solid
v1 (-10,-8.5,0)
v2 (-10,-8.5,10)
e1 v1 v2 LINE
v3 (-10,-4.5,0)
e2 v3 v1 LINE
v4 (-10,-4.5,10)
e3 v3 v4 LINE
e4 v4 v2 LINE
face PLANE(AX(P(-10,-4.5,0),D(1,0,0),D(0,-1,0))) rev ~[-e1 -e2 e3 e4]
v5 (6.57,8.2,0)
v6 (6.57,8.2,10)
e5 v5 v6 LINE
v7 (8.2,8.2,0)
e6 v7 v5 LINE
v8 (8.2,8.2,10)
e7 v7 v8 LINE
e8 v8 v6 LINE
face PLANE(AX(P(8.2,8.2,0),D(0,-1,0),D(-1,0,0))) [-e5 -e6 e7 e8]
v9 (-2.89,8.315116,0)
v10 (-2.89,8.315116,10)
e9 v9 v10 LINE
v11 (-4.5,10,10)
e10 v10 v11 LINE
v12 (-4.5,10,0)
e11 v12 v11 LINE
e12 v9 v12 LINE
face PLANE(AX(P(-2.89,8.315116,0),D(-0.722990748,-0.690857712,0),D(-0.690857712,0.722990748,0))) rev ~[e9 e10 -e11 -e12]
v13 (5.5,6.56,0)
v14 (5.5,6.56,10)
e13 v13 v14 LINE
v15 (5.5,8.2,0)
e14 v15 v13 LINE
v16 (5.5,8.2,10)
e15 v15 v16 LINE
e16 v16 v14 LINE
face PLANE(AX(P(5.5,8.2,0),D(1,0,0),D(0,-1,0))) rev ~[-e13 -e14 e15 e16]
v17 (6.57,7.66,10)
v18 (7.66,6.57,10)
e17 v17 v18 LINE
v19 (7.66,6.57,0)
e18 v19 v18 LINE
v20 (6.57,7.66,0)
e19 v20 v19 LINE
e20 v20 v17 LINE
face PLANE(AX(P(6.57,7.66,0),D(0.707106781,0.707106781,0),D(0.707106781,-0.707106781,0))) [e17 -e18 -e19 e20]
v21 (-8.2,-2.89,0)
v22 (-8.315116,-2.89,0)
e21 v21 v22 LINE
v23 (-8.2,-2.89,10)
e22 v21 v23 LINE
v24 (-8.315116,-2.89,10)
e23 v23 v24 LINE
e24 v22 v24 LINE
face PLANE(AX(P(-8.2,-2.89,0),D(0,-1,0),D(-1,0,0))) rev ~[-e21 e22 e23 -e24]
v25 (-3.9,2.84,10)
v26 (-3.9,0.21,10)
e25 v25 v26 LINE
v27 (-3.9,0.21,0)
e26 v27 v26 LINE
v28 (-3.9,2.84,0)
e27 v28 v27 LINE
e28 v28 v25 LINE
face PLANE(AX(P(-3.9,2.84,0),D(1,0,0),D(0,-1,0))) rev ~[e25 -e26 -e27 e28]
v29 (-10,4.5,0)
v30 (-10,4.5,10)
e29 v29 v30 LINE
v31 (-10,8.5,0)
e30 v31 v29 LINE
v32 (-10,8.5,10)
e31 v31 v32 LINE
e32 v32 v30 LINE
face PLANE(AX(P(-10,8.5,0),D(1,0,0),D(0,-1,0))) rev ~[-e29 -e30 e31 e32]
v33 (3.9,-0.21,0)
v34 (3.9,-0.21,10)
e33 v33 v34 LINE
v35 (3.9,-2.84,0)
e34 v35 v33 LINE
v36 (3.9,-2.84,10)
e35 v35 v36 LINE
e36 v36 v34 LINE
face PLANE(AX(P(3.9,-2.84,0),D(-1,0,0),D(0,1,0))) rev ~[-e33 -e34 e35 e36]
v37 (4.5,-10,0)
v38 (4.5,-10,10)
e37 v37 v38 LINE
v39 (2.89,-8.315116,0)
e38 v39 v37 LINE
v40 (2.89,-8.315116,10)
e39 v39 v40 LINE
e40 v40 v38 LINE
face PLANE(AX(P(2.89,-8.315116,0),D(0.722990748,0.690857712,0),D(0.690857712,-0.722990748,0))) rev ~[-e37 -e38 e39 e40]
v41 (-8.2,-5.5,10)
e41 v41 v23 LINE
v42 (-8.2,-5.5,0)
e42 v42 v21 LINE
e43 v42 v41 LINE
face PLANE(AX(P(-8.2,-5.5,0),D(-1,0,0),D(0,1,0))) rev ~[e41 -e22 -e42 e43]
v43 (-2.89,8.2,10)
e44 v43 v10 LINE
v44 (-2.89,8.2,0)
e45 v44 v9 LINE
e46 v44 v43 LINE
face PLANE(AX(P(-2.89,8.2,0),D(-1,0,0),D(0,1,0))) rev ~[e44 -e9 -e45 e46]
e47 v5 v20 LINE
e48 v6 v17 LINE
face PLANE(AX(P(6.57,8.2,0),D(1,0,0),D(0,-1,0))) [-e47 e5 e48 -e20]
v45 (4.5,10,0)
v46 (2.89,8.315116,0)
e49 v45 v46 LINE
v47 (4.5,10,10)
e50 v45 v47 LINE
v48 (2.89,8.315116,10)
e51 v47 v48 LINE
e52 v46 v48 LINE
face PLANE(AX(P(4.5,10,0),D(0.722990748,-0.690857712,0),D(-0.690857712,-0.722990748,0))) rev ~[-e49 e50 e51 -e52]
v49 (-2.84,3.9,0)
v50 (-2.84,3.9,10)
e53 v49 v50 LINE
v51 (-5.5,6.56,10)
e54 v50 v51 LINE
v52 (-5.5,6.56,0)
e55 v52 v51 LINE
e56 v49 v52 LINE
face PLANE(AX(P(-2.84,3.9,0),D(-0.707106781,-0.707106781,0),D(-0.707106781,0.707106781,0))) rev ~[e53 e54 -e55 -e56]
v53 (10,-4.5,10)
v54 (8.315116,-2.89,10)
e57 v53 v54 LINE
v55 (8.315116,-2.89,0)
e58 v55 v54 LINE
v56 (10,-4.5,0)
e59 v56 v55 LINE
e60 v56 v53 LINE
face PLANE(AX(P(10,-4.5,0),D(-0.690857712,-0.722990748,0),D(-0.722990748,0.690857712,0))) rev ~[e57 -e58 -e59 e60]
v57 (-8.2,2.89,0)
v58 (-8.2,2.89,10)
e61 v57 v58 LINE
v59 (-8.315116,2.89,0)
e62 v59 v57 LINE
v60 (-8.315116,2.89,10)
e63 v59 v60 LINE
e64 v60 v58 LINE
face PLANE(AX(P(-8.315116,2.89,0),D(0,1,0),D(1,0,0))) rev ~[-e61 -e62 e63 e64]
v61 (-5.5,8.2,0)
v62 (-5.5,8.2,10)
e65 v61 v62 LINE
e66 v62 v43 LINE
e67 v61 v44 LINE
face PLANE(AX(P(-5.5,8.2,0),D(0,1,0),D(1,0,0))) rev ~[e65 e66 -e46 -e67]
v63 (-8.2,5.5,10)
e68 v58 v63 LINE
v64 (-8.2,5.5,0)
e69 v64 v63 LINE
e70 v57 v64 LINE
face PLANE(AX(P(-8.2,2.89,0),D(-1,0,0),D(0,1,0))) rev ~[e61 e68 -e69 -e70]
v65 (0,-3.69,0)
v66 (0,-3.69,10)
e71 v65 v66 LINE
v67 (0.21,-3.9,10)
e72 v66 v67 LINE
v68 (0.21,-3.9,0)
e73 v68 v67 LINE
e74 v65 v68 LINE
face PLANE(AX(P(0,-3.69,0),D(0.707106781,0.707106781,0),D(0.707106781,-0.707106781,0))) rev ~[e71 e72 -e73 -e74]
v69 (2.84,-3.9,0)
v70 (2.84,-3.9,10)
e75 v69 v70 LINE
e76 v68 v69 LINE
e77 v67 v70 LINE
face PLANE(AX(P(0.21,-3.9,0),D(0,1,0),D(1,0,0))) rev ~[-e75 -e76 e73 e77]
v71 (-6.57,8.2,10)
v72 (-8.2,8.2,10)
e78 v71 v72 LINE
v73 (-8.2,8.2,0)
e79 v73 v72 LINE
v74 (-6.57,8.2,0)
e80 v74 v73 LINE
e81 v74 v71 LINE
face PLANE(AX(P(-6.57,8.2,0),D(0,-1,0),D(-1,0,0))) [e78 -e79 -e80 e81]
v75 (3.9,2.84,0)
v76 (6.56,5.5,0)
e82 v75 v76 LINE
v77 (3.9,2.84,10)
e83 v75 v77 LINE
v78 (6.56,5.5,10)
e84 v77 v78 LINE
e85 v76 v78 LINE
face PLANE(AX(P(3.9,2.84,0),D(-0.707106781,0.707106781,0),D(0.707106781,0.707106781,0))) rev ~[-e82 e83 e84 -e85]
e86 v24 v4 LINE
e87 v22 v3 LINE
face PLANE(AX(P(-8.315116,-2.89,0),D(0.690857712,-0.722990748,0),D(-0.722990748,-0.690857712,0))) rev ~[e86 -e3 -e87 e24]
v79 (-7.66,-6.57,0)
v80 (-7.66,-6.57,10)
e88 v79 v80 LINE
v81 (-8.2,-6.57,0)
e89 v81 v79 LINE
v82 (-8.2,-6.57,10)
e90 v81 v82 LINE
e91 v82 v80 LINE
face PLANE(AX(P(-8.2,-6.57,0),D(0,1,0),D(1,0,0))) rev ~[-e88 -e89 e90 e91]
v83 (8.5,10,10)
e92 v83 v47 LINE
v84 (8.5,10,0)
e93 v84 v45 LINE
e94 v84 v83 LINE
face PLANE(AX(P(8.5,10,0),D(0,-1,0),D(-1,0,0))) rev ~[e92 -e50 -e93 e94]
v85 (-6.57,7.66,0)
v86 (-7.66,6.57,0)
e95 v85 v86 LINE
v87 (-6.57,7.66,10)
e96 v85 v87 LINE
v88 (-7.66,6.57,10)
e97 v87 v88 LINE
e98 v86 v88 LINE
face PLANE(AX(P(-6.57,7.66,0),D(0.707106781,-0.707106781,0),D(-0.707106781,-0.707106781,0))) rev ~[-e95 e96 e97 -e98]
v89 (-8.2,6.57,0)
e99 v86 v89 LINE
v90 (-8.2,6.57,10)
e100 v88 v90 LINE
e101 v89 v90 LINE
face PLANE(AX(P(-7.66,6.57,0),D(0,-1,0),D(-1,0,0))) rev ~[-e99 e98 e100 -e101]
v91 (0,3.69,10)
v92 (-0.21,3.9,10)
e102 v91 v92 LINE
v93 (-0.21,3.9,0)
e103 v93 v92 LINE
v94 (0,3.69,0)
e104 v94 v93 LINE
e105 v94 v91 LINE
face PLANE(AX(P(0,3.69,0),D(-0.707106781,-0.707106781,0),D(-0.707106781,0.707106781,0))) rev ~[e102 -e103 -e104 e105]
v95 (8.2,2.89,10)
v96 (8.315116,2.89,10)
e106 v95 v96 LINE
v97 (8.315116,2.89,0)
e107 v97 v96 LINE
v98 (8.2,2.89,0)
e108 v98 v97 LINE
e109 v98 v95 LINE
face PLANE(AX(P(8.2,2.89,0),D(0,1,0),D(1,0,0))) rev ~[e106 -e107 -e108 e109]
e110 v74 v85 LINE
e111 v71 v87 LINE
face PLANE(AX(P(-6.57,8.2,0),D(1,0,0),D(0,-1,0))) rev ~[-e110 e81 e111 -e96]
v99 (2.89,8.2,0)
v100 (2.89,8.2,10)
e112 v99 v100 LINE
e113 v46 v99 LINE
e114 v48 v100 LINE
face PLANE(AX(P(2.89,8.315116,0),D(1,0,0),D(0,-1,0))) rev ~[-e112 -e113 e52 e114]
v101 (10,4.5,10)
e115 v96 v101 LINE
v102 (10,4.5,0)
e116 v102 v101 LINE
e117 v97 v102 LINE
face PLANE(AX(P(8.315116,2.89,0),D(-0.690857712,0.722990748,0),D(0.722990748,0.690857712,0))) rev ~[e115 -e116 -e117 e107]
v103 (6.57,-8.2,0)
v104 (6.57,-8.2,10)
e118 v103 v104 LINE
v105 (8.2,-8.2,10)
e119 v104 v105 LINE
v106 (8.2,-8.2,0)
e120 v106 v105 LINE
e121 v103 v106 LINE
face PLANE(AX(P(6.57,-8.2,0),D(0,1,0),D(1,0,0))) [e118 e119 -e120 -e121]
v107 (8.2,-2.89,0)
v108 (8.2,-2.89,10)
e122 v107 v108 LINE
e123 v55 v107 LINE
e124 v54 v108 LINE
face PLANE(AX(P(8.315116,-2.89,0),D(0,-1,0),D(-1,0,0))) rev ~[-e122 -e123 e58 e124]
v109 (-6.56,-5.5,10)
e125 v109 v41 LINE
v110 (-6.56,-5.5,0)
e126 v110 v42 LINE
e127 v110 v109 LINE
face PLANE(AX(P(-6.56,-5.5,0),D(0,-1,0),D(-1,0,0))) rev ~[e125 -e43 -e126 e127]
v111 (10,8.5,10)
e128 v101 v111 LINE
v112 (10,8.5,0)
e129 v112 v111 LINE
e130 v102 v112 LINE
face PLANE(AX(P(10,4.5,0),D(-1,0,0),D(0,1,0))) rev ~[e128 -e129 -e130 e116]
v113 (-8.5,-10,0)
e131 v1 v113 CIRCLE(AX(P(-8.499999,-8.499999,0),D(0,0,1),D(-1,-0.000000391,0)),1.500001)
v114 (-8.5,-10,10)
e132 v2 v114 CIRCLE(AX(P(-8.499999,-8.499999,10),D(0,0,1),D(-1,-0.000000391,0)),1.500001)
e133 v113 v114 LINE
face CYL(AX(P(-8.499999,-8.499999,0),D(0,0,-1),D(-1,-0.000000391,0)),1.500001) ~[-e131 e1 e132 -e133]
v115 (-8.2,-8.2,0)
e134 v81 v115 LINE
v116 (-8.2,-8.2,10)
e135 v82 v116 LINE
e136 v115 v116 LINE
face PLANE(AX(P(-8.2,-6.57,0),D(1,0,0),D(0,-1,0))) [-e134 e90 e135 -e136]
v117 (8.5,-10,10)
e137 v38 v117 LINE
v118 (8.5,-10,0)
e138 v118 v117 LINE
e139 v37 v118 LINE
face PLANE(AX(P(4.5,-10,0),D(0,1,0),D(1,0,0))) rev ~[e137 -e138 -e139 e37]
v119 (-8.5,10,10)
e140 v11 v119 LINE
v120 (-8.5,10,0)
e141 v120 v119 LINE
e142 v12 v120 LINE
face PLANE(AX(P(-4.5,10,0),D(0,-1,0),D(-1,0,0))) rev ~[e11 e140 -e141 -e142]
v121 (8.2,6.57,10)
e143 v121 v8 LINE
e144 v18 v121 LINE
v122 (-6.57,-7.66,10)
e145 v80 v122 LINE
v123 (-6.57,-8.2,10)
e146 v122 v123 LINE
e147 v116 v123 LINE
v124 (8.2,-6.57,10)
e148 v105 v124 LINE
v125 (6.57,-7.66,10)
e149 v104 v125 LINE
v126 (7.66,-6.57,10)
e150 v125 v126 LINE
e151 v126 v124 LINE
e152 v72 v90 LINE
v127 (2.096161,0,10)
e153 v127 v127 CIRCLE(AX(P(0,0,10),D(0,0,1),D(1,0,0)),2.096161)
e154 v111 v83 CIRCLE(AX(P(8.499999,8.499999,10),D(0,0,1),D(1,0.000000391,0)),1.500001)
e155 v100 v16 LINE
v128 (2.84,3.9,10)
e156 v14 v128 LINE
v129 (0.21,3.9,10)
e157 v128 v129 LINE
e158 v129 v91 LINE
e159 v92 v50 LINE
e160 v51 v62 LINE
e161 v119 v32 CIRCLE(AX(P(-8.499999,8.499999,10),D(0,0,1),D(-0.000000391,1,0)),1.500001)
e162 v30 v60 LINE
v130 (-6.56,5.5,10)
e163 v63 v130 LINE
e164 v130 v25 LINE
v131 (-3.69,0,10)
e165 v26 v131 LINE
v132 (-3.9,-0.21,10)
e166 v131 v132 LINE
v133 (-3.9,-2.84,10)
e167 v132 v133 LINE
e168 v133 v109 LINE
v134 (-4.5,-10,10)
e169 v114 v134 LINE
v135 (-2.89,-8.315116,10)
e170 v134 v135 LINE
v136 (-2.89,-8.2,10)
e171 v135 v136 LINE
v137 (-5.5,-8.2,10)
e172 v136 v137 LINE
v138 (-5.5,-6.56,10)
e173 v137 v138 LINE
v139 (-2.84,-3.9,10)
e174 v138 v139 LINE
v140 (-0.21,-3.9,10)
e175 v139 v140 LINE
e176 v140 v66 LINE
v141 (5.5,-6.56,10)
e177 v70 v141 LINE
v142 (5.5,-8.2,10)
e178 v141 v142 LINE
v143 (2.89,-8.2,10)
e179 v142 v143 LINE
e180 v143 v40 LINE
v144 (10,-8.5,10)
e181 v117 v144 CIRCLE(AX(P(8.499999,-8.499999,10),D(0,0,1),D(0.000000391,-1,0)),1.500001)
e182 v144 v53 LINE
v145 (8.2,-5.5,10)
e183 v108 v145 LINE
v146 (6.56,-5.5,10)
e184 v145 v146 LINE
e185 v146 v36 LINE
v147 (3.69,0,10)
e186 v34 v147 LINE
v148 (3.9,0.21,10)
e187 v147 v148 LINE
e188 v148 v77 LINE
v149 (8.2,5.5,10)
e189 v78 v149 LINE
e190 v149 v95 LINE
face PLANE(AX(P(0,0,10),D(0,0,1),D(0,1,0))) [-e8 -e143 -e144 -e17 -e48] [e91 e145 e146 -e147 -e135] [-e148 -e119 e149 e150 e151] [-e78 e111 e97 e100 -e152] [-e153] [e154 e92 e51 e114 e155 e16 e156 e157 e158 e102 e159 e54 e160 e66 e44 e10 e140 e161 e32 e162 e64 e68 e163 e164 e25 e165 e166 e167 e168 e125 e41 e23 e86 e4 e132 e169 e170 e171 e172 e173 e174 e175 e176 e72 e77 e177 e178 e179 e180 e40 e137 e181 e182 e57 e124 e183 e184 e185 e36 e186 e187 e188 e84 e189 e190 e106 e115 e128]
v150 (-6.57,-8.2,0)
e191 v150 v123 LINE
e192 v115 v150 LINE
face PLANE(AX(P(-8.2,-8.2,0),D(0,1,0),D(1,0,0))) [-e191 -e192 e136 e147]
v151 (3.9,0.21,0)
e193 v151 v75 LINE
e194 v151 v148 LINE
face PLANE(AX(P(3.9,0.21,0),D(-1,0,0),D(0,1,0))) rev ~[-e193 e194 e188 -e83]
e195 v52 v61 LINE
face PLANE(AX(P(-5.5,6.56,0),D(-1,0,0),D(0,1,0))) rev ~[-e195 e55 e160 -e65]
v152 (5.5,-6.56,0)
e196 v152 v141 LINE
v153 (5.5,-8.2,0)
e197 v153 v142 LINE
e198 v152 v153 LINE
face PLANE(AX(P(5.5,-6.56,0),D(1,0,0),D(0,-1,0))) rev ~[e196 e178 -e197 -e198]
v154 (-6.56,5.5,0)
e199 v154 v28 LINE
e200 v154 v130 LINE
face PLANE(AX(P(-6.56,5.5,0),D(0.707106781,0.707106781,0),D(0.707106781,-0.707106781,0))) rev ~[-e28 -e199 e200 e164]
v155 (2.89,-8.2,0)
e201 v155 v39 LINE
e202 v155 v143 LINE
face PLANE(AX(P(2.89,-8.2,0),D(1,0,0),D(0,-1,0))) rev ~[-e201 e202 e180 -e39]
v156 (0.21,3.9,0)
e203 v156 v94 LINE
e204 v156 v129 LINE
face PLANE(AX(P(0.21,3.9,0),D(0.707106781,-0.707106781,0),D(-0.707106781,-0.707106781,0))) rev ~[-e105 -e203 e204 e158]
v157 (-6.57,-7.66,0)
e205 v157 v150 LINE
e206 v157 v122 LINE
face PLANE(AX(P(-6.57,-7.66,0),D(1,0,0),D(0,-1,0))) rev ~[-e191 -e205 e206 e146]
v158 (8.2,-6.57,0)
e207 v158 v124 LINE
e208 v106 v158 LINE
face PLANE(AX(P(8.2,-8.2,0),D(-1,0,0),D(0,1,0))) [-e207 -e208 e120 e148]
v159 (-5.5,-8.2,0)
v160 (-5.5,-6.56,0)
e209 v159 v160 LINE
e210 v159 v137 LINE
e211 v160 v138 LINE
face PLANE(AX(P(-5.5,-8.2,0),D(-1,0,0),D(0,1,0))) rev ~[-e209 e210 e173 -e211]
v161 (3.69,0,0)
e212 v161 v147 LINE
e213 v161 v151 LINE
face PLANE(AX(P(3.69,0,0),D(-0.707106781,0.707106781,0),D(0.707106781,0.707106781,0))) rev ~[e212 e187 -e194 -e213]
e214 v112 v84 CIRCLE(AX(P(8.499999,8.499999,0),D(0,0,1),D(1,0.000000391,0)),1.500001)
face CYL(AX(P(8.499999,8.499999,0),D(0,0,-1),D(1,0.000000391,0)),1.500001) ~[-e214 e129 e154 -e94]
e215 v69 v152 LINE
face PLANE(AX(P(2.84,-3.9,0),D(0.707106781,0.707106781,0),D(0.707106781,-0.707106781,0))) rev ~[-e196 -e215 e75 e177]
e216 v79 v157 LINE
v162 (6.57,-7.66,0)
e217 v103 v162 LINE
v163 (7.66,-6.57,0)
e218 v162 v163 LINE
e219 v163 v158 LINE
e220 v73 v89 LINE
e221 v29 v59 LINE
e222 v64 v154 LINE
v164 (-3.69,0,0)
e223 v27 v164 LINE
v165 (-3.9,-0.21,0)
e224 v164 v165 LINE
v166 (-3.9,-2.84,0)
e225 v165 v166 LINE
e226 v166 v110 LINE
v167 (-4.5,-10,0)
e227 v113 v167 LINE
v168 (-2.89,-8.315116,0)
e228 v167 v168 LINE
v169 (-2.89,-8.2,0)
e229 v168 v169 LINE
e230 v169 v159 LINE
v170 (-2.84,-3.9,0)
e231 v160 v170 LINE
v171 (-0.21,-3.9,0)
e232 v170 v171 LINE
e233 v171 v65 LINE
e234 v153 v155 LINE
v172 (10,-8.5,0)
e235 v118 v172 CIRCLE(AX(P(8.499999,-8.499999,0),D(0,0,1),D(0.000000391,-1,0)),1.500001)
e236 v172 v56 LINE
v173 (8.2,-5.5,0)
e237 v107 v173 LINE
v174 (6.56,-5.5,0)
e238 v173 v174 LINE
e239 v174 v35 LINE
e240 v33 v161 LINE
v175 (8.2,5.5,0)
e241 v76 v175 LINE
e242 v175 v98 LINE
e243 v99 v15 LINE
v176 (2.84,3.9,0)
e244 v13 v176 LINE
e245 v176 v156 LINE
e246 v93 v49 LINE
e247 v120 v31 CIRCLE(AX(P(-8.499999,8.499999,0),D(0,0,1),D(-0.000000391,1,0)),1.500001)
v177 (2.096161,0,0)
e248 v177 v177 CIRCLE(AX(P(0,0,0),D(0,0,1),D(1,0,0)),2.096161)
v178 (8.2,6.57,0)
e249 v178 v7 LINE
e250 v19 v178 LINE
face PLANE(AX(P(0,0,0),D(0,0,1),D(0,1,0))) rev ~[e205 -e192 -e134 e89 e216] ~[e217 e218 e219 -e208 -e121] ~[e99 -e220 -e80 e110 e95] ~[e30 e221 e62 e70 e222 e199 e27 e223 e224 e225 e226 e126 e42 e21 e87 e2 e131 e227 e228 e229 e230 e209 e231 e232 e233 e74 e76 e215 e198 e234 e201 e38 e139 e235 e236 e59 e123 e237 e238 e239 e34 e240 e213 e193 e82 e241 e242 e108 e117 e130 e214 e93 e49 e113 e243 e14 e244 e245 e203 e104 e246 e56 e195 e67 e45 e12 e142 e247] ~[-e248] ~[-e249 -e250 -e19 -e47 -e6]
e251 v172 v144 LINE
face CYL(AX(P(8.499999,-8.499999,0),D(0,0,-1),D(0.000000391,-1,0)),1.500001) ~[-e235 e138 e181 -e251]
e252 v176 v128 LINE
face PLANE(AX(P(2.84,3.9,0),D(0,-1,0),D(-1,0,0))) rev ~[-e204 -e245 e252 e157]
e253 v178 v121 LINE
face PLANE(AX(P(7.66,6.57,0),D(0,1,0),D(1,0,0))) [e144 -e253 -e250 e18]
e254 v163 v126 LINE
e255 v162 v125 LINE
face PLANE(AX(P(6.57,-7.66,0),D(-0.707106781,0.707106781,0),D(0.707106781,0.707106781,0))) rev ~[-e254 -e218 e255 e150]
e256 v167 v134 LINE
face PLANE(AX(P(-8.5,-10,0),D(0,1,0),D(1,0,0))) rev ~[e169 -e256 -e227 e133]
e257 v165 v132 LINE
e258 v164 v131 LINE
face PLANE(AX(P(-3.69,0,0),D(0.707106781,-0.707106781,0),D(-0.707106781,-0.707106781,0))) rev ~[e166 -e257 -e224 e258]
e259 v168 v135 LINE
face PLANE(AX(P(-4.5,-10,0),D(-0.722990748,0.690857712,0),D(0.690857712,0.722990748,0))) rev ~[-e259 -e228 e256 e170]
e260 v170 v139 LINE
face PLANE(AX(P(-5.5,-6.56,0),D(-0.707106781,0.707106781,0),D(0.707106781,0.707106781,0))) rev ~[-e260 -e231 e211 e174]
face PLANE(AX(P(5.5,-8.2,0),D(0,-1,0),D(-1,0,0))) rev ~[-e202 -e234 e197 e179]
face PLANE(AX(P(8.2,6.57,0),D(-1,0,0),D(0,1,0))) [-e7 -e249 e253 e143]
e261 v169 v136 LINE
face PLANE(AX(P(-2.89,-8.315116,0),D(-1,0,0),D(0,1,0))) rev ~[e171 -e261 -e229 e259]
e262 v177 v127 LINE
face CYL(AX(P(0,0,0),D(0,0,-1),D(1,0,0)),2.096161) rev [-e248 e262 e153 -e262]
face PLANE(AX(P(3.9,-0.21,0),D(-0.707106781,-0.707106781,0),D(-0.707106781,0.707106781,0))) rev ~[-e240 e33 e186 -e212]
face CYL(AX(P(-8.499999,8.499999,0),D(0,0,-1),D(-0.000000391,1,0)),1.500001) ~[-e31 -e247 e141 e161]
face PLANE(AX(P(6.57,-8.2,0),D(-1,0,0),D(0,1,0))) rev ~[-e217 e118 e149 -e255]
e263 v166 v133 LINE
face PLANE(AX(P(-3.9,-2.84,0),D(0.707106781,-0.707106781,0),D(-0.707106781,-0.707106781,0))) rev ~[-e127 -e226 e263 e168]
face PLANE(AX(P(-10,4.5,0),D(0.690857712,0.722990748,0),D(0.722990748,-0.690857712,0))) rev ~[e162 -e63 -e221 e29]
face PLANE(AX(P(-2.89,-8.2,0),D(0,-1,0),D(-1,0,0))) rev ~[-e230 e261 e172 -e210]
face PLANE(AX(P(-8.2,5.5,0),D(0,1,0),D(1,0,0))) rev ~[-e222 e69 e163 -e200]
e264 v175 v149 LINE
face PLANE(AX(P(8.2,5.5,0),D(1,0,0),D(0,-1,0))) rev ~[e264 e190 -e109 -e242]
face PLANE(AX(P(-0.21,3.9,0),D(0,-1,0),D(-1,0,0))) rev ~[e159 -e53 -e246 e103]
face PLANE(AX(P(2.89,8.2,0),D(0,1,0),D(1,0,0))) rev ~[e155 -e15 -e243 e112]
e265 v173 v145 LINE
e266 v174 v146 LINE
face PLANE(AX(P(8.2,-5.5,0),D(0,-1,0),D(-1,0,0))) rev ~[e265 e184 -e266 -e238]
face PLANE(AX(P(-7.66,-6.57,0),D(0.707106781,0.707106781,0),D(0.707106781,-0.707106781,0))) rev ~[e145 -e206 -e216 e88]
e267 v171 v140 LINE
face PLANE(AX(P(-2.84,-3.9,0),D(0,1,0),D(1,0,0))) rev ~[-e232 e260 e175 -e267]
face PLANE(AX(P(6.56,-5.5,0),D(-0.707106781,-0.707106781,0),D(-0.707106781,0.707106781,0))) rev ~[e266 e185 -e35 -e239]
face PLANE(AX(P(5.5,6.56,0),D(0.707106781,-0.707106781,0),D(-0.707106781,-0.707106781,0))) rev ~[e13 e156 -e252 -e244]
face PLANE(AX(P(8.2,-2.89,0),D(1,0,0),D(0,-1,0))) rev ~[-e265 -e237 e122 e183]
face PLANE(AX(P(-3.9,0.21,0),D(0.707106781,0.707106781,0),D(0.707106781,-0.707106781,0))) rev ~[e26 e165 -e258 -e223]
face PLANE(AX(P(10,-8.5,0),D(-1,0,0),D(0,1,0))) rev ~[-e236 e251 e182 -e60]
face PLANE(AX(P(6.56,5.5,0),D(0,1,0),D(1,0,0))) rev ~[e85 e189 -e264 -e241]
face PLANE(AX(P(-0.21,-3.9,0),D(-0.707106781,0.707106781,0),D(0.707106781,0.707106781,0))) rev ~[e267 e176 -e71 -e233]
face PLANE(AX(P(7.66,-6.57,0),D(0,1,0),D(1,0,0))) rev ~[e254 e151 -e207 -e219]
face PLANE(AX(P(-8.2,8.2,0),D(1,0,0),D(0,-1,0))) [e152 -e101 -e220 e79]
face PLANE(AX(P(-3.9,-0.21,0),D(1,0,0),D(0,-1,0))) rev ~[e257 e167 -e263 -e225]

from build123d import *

# Parameters (mm, degrees)
EXTRUDE002_DEPTH = 10
EXTRUDE003_DEPTH = 10
EXTRUDE004_DEPTH = 10
EXTRUDE005_DEPTH = 10
CIRCLE001_R      = 2.096161
EXTRUDE001_DEPTH = 10
EXTRUDE_DEPTH    = 10


with BuildPart() as extrude002:
    # DWire008 → Extrude002 (new body)
    with BuildSketch(Plane.XY):
        Polygon((-6.57, -8.2), (-7.031056, -8.2), (-8.2, -8.2), (-8.2, -7.031056), (-8.2, -6.57), (-7.66, -6.57), (-6.57, -7.66), align=None)
    extrude(amount=EXTRUDE002_DEPTH)


with BuildPart() as extrude003:
    # DWire009 → Extrude003 (new body)
    with BuildSketch(Plane.XY):
        Polygon((8.2, 7.031056), (8.2, 8.2), (7.031056, 8.2), (6.57, 8.2), (6.57, 7.66), (7.66, 6.57), (8.2, 6.57), align=None)
    extrude(amount=EXTRUDE003_DEPTH)


with BuildPart() as extrude004:
    # DWire010 → Extrude004 (new body)
    with BuildSketch(Plane.XY):
        Polygon((8.2, -6.57), (8.2, -7.031056), (8.2, -8.2), (7.031056, -8.2), (6.57, -8.2), (6.57, -7.66), (7.66, -6.57), align=None)
    extrude(amount=EXTRUDE004_DEPTH)


with BuildPart() as extrude005:
    # DWire011 → Extrude005 (new body)
    with BuildSketch(Plane.XY):
        Polygon((-8.2, 6.57), (-8.2, 7.031056), (-8.2, 8.2), (-7.031056, 8.2), (-6.57, 8.2), (-6.57, 7.66), (-7.66, 6.57), align=None)
    extrude(amount=EXTRUDE005_DEPTH)


with BuildPart() as extrude001:
    # Circle001 → Extrude001 (new body)
    with BuildSketch(Plane.XY):
        Circle(CIRCLE001_R)
    extrude(amount=EXTRUDE001_DEPTH)


with BuildPart() as v_slot_20x20:
    # Sketch001 → Extrude (new body)
    with BuildSketch(Plane(origin=(0, 0, 0), x_dir=(0, 1, 0), z_dir=(0, 0, 1))):
        with BuildLine():
            ThreePointArc((10, 8.5), (9.56066, 9.56066), (8.5, 10))
            Line((8.5, 10), (4.5, 10))
            Line((4.5, 10), (2.89, 8.315116))
            Line((2.89, 8.315116), (2.89, 8.2))
            Line((2.89, 8.2), (5.5, 8.2))
            Line((5.5, 8.2), (5.5, 6.56))
            Line((5.5, 6.56), (2.84, 3.9))
            Line((2.84, 3.9), (0.21, 3.9))
            Line((0.21, 3.9), (0, 3.69))
            Line((0, 3.69), (-0.21, 3.9))
            Line((-0.21, 3.9), (-2.84, 3.9))
            Line((-2.84, 3.9), (-5.5, 6.56))
            Line((-5.5, 6.56), (-5.5, 8.2))
            Line((-5.5, 8.2), (-2.89, 8.2))
            Line((-2.89, 8.2), (-2.89, 8.315116))
            Line((-2.89, 8.315116), (-4.5, 10))
            Line((-4.5, 10), (-8.5, 10))
            ThreePointArc((-8.5, 10), (-9.56066, 9.56066), (-10, 8.5))
            Line((-10, 8.5), (-10, 4.5))
            Line((-10, 4.5), (-8.315116, 2.89))
            Line((-8.315116, 2.89), (-8.2, 2.89))
            Line((-8.2, 2.89), (-8.2, 5.5))
            Line((-8.2, 5.5), (-6.56, 5.5))
            Line((-6.56, 5.5), (-3.9, 2.84))
            Line((-3.9, 2.84), (-3.9, 0.21))
            Line((-3.9, 0.21), (-3.69, 0))
            Line((-3.69, 0), (-3.9, -0.21))
            Line((-3.9, -0.21), (-3.9, -2.84))
            Line((-3.9, -2.84), (-6.56, -5.5))
            Line((-6.56, -5.5), (-8.2, -5.5))
            Line((-8.2, -5.5), (-8.2, -2.89))
            Line((-8.2, -2.89), (-8.315116, -2.89))
            Line((-8.315116, -2.89), (-10, -4.5))
            Line((-10, -4.5), (-10, -8.5))
            ThreePointArc((-10, -8.5), (-9.56066, -9.56066), (-8.5, -10))
            Line((-8.5, -10), (-4.5, -10))
            Line((-4.5, -10), (-2.89, -8.315116))
            Line((-2.89, -8.315116), (-2.89, -8.2))
            Line((-2.89, -8.2), (-5.5, -8.2))
            Line((-5.5, -8.2), (-5.5, -6.56))
            Line((-5.5, -6.56), (-2.84, -3.9))
            Line((-2.84, -3.9), (-0.21, -3.9))
            Line((-0.21, -3.9), (0, -3.69))
            Line((0, -3.69), (0.21, -3.9))
            Line((0.21, -3.9), (2.84, -3.9))
            Line((2.84, -3.9), (5.5, -6.56))
            Line((5.5, -6.56), (5.5, -8.2))
            Line((5.5, -8.2), (2.89, -8.2))
            Line((2.89, -8.2), (2.89, -8.315116))
            Line((2.89, -8.315116), (4.5, -10))
            Line((4.5, -10), (8.5, -10))
            ThreePointArc((8.5, -10), (9.56066, -9.56066), (10, -8.5))
            Line((10, -8.5), (10, -4.5))
            Line((10, -4.5), (8.315116, -2.89))
            Line((8.315116, -2.89), (8.2, -2.89))
            Line((8.2, -2.89), (8.2, -5.5))
            Line((8.2, -5.5), (6.56, -5.5))
            Line((6.56, -5.5), (3.9, -2.84))
            Line((3.9, -2.84), (3.9, -0.21))
            Line((3.9, -0.21), (3.69, 0))
            Line((3.69, 0), (3.9, 0.21))
            Line((3.9, 0.21), (3.9, 2.84))
            Line((3.9, 2.84), (6.56, 5.5))
            Line((6.56, 5.5), (8.2, 5.5))
            Line((8.2, 5.5), (8.2, 2.89))
            Line((8.2, 2.89), (8.315116, 2.89))
            Line((8.315116, 2.89), (10, 4.5))
            Line((10, 4.5), (10, 8.5))
        make_face()
    extrude(amount=EXTRUDE_DEPTH)

    # Cut: cut Extrude001
    add(extrude001.part, mode=Mode.SUBTRACT)

    # Cut001: cut Extrude005
    add(extrude005.part, mode=Mode.SUBTRACT)

    # Cut002: cut Extrude004
    add(extrude004.part, mode=Mode.SUBTRACT)

    # Cut003: cut Extrude003
    add(extrude003.part, mode=Mode.SUBTRACT)

    # Cut004: cut Extrude002
    add(extrude002.part, mode=Mode.SUBTRACT)


solid = v_slot_20x20.part
